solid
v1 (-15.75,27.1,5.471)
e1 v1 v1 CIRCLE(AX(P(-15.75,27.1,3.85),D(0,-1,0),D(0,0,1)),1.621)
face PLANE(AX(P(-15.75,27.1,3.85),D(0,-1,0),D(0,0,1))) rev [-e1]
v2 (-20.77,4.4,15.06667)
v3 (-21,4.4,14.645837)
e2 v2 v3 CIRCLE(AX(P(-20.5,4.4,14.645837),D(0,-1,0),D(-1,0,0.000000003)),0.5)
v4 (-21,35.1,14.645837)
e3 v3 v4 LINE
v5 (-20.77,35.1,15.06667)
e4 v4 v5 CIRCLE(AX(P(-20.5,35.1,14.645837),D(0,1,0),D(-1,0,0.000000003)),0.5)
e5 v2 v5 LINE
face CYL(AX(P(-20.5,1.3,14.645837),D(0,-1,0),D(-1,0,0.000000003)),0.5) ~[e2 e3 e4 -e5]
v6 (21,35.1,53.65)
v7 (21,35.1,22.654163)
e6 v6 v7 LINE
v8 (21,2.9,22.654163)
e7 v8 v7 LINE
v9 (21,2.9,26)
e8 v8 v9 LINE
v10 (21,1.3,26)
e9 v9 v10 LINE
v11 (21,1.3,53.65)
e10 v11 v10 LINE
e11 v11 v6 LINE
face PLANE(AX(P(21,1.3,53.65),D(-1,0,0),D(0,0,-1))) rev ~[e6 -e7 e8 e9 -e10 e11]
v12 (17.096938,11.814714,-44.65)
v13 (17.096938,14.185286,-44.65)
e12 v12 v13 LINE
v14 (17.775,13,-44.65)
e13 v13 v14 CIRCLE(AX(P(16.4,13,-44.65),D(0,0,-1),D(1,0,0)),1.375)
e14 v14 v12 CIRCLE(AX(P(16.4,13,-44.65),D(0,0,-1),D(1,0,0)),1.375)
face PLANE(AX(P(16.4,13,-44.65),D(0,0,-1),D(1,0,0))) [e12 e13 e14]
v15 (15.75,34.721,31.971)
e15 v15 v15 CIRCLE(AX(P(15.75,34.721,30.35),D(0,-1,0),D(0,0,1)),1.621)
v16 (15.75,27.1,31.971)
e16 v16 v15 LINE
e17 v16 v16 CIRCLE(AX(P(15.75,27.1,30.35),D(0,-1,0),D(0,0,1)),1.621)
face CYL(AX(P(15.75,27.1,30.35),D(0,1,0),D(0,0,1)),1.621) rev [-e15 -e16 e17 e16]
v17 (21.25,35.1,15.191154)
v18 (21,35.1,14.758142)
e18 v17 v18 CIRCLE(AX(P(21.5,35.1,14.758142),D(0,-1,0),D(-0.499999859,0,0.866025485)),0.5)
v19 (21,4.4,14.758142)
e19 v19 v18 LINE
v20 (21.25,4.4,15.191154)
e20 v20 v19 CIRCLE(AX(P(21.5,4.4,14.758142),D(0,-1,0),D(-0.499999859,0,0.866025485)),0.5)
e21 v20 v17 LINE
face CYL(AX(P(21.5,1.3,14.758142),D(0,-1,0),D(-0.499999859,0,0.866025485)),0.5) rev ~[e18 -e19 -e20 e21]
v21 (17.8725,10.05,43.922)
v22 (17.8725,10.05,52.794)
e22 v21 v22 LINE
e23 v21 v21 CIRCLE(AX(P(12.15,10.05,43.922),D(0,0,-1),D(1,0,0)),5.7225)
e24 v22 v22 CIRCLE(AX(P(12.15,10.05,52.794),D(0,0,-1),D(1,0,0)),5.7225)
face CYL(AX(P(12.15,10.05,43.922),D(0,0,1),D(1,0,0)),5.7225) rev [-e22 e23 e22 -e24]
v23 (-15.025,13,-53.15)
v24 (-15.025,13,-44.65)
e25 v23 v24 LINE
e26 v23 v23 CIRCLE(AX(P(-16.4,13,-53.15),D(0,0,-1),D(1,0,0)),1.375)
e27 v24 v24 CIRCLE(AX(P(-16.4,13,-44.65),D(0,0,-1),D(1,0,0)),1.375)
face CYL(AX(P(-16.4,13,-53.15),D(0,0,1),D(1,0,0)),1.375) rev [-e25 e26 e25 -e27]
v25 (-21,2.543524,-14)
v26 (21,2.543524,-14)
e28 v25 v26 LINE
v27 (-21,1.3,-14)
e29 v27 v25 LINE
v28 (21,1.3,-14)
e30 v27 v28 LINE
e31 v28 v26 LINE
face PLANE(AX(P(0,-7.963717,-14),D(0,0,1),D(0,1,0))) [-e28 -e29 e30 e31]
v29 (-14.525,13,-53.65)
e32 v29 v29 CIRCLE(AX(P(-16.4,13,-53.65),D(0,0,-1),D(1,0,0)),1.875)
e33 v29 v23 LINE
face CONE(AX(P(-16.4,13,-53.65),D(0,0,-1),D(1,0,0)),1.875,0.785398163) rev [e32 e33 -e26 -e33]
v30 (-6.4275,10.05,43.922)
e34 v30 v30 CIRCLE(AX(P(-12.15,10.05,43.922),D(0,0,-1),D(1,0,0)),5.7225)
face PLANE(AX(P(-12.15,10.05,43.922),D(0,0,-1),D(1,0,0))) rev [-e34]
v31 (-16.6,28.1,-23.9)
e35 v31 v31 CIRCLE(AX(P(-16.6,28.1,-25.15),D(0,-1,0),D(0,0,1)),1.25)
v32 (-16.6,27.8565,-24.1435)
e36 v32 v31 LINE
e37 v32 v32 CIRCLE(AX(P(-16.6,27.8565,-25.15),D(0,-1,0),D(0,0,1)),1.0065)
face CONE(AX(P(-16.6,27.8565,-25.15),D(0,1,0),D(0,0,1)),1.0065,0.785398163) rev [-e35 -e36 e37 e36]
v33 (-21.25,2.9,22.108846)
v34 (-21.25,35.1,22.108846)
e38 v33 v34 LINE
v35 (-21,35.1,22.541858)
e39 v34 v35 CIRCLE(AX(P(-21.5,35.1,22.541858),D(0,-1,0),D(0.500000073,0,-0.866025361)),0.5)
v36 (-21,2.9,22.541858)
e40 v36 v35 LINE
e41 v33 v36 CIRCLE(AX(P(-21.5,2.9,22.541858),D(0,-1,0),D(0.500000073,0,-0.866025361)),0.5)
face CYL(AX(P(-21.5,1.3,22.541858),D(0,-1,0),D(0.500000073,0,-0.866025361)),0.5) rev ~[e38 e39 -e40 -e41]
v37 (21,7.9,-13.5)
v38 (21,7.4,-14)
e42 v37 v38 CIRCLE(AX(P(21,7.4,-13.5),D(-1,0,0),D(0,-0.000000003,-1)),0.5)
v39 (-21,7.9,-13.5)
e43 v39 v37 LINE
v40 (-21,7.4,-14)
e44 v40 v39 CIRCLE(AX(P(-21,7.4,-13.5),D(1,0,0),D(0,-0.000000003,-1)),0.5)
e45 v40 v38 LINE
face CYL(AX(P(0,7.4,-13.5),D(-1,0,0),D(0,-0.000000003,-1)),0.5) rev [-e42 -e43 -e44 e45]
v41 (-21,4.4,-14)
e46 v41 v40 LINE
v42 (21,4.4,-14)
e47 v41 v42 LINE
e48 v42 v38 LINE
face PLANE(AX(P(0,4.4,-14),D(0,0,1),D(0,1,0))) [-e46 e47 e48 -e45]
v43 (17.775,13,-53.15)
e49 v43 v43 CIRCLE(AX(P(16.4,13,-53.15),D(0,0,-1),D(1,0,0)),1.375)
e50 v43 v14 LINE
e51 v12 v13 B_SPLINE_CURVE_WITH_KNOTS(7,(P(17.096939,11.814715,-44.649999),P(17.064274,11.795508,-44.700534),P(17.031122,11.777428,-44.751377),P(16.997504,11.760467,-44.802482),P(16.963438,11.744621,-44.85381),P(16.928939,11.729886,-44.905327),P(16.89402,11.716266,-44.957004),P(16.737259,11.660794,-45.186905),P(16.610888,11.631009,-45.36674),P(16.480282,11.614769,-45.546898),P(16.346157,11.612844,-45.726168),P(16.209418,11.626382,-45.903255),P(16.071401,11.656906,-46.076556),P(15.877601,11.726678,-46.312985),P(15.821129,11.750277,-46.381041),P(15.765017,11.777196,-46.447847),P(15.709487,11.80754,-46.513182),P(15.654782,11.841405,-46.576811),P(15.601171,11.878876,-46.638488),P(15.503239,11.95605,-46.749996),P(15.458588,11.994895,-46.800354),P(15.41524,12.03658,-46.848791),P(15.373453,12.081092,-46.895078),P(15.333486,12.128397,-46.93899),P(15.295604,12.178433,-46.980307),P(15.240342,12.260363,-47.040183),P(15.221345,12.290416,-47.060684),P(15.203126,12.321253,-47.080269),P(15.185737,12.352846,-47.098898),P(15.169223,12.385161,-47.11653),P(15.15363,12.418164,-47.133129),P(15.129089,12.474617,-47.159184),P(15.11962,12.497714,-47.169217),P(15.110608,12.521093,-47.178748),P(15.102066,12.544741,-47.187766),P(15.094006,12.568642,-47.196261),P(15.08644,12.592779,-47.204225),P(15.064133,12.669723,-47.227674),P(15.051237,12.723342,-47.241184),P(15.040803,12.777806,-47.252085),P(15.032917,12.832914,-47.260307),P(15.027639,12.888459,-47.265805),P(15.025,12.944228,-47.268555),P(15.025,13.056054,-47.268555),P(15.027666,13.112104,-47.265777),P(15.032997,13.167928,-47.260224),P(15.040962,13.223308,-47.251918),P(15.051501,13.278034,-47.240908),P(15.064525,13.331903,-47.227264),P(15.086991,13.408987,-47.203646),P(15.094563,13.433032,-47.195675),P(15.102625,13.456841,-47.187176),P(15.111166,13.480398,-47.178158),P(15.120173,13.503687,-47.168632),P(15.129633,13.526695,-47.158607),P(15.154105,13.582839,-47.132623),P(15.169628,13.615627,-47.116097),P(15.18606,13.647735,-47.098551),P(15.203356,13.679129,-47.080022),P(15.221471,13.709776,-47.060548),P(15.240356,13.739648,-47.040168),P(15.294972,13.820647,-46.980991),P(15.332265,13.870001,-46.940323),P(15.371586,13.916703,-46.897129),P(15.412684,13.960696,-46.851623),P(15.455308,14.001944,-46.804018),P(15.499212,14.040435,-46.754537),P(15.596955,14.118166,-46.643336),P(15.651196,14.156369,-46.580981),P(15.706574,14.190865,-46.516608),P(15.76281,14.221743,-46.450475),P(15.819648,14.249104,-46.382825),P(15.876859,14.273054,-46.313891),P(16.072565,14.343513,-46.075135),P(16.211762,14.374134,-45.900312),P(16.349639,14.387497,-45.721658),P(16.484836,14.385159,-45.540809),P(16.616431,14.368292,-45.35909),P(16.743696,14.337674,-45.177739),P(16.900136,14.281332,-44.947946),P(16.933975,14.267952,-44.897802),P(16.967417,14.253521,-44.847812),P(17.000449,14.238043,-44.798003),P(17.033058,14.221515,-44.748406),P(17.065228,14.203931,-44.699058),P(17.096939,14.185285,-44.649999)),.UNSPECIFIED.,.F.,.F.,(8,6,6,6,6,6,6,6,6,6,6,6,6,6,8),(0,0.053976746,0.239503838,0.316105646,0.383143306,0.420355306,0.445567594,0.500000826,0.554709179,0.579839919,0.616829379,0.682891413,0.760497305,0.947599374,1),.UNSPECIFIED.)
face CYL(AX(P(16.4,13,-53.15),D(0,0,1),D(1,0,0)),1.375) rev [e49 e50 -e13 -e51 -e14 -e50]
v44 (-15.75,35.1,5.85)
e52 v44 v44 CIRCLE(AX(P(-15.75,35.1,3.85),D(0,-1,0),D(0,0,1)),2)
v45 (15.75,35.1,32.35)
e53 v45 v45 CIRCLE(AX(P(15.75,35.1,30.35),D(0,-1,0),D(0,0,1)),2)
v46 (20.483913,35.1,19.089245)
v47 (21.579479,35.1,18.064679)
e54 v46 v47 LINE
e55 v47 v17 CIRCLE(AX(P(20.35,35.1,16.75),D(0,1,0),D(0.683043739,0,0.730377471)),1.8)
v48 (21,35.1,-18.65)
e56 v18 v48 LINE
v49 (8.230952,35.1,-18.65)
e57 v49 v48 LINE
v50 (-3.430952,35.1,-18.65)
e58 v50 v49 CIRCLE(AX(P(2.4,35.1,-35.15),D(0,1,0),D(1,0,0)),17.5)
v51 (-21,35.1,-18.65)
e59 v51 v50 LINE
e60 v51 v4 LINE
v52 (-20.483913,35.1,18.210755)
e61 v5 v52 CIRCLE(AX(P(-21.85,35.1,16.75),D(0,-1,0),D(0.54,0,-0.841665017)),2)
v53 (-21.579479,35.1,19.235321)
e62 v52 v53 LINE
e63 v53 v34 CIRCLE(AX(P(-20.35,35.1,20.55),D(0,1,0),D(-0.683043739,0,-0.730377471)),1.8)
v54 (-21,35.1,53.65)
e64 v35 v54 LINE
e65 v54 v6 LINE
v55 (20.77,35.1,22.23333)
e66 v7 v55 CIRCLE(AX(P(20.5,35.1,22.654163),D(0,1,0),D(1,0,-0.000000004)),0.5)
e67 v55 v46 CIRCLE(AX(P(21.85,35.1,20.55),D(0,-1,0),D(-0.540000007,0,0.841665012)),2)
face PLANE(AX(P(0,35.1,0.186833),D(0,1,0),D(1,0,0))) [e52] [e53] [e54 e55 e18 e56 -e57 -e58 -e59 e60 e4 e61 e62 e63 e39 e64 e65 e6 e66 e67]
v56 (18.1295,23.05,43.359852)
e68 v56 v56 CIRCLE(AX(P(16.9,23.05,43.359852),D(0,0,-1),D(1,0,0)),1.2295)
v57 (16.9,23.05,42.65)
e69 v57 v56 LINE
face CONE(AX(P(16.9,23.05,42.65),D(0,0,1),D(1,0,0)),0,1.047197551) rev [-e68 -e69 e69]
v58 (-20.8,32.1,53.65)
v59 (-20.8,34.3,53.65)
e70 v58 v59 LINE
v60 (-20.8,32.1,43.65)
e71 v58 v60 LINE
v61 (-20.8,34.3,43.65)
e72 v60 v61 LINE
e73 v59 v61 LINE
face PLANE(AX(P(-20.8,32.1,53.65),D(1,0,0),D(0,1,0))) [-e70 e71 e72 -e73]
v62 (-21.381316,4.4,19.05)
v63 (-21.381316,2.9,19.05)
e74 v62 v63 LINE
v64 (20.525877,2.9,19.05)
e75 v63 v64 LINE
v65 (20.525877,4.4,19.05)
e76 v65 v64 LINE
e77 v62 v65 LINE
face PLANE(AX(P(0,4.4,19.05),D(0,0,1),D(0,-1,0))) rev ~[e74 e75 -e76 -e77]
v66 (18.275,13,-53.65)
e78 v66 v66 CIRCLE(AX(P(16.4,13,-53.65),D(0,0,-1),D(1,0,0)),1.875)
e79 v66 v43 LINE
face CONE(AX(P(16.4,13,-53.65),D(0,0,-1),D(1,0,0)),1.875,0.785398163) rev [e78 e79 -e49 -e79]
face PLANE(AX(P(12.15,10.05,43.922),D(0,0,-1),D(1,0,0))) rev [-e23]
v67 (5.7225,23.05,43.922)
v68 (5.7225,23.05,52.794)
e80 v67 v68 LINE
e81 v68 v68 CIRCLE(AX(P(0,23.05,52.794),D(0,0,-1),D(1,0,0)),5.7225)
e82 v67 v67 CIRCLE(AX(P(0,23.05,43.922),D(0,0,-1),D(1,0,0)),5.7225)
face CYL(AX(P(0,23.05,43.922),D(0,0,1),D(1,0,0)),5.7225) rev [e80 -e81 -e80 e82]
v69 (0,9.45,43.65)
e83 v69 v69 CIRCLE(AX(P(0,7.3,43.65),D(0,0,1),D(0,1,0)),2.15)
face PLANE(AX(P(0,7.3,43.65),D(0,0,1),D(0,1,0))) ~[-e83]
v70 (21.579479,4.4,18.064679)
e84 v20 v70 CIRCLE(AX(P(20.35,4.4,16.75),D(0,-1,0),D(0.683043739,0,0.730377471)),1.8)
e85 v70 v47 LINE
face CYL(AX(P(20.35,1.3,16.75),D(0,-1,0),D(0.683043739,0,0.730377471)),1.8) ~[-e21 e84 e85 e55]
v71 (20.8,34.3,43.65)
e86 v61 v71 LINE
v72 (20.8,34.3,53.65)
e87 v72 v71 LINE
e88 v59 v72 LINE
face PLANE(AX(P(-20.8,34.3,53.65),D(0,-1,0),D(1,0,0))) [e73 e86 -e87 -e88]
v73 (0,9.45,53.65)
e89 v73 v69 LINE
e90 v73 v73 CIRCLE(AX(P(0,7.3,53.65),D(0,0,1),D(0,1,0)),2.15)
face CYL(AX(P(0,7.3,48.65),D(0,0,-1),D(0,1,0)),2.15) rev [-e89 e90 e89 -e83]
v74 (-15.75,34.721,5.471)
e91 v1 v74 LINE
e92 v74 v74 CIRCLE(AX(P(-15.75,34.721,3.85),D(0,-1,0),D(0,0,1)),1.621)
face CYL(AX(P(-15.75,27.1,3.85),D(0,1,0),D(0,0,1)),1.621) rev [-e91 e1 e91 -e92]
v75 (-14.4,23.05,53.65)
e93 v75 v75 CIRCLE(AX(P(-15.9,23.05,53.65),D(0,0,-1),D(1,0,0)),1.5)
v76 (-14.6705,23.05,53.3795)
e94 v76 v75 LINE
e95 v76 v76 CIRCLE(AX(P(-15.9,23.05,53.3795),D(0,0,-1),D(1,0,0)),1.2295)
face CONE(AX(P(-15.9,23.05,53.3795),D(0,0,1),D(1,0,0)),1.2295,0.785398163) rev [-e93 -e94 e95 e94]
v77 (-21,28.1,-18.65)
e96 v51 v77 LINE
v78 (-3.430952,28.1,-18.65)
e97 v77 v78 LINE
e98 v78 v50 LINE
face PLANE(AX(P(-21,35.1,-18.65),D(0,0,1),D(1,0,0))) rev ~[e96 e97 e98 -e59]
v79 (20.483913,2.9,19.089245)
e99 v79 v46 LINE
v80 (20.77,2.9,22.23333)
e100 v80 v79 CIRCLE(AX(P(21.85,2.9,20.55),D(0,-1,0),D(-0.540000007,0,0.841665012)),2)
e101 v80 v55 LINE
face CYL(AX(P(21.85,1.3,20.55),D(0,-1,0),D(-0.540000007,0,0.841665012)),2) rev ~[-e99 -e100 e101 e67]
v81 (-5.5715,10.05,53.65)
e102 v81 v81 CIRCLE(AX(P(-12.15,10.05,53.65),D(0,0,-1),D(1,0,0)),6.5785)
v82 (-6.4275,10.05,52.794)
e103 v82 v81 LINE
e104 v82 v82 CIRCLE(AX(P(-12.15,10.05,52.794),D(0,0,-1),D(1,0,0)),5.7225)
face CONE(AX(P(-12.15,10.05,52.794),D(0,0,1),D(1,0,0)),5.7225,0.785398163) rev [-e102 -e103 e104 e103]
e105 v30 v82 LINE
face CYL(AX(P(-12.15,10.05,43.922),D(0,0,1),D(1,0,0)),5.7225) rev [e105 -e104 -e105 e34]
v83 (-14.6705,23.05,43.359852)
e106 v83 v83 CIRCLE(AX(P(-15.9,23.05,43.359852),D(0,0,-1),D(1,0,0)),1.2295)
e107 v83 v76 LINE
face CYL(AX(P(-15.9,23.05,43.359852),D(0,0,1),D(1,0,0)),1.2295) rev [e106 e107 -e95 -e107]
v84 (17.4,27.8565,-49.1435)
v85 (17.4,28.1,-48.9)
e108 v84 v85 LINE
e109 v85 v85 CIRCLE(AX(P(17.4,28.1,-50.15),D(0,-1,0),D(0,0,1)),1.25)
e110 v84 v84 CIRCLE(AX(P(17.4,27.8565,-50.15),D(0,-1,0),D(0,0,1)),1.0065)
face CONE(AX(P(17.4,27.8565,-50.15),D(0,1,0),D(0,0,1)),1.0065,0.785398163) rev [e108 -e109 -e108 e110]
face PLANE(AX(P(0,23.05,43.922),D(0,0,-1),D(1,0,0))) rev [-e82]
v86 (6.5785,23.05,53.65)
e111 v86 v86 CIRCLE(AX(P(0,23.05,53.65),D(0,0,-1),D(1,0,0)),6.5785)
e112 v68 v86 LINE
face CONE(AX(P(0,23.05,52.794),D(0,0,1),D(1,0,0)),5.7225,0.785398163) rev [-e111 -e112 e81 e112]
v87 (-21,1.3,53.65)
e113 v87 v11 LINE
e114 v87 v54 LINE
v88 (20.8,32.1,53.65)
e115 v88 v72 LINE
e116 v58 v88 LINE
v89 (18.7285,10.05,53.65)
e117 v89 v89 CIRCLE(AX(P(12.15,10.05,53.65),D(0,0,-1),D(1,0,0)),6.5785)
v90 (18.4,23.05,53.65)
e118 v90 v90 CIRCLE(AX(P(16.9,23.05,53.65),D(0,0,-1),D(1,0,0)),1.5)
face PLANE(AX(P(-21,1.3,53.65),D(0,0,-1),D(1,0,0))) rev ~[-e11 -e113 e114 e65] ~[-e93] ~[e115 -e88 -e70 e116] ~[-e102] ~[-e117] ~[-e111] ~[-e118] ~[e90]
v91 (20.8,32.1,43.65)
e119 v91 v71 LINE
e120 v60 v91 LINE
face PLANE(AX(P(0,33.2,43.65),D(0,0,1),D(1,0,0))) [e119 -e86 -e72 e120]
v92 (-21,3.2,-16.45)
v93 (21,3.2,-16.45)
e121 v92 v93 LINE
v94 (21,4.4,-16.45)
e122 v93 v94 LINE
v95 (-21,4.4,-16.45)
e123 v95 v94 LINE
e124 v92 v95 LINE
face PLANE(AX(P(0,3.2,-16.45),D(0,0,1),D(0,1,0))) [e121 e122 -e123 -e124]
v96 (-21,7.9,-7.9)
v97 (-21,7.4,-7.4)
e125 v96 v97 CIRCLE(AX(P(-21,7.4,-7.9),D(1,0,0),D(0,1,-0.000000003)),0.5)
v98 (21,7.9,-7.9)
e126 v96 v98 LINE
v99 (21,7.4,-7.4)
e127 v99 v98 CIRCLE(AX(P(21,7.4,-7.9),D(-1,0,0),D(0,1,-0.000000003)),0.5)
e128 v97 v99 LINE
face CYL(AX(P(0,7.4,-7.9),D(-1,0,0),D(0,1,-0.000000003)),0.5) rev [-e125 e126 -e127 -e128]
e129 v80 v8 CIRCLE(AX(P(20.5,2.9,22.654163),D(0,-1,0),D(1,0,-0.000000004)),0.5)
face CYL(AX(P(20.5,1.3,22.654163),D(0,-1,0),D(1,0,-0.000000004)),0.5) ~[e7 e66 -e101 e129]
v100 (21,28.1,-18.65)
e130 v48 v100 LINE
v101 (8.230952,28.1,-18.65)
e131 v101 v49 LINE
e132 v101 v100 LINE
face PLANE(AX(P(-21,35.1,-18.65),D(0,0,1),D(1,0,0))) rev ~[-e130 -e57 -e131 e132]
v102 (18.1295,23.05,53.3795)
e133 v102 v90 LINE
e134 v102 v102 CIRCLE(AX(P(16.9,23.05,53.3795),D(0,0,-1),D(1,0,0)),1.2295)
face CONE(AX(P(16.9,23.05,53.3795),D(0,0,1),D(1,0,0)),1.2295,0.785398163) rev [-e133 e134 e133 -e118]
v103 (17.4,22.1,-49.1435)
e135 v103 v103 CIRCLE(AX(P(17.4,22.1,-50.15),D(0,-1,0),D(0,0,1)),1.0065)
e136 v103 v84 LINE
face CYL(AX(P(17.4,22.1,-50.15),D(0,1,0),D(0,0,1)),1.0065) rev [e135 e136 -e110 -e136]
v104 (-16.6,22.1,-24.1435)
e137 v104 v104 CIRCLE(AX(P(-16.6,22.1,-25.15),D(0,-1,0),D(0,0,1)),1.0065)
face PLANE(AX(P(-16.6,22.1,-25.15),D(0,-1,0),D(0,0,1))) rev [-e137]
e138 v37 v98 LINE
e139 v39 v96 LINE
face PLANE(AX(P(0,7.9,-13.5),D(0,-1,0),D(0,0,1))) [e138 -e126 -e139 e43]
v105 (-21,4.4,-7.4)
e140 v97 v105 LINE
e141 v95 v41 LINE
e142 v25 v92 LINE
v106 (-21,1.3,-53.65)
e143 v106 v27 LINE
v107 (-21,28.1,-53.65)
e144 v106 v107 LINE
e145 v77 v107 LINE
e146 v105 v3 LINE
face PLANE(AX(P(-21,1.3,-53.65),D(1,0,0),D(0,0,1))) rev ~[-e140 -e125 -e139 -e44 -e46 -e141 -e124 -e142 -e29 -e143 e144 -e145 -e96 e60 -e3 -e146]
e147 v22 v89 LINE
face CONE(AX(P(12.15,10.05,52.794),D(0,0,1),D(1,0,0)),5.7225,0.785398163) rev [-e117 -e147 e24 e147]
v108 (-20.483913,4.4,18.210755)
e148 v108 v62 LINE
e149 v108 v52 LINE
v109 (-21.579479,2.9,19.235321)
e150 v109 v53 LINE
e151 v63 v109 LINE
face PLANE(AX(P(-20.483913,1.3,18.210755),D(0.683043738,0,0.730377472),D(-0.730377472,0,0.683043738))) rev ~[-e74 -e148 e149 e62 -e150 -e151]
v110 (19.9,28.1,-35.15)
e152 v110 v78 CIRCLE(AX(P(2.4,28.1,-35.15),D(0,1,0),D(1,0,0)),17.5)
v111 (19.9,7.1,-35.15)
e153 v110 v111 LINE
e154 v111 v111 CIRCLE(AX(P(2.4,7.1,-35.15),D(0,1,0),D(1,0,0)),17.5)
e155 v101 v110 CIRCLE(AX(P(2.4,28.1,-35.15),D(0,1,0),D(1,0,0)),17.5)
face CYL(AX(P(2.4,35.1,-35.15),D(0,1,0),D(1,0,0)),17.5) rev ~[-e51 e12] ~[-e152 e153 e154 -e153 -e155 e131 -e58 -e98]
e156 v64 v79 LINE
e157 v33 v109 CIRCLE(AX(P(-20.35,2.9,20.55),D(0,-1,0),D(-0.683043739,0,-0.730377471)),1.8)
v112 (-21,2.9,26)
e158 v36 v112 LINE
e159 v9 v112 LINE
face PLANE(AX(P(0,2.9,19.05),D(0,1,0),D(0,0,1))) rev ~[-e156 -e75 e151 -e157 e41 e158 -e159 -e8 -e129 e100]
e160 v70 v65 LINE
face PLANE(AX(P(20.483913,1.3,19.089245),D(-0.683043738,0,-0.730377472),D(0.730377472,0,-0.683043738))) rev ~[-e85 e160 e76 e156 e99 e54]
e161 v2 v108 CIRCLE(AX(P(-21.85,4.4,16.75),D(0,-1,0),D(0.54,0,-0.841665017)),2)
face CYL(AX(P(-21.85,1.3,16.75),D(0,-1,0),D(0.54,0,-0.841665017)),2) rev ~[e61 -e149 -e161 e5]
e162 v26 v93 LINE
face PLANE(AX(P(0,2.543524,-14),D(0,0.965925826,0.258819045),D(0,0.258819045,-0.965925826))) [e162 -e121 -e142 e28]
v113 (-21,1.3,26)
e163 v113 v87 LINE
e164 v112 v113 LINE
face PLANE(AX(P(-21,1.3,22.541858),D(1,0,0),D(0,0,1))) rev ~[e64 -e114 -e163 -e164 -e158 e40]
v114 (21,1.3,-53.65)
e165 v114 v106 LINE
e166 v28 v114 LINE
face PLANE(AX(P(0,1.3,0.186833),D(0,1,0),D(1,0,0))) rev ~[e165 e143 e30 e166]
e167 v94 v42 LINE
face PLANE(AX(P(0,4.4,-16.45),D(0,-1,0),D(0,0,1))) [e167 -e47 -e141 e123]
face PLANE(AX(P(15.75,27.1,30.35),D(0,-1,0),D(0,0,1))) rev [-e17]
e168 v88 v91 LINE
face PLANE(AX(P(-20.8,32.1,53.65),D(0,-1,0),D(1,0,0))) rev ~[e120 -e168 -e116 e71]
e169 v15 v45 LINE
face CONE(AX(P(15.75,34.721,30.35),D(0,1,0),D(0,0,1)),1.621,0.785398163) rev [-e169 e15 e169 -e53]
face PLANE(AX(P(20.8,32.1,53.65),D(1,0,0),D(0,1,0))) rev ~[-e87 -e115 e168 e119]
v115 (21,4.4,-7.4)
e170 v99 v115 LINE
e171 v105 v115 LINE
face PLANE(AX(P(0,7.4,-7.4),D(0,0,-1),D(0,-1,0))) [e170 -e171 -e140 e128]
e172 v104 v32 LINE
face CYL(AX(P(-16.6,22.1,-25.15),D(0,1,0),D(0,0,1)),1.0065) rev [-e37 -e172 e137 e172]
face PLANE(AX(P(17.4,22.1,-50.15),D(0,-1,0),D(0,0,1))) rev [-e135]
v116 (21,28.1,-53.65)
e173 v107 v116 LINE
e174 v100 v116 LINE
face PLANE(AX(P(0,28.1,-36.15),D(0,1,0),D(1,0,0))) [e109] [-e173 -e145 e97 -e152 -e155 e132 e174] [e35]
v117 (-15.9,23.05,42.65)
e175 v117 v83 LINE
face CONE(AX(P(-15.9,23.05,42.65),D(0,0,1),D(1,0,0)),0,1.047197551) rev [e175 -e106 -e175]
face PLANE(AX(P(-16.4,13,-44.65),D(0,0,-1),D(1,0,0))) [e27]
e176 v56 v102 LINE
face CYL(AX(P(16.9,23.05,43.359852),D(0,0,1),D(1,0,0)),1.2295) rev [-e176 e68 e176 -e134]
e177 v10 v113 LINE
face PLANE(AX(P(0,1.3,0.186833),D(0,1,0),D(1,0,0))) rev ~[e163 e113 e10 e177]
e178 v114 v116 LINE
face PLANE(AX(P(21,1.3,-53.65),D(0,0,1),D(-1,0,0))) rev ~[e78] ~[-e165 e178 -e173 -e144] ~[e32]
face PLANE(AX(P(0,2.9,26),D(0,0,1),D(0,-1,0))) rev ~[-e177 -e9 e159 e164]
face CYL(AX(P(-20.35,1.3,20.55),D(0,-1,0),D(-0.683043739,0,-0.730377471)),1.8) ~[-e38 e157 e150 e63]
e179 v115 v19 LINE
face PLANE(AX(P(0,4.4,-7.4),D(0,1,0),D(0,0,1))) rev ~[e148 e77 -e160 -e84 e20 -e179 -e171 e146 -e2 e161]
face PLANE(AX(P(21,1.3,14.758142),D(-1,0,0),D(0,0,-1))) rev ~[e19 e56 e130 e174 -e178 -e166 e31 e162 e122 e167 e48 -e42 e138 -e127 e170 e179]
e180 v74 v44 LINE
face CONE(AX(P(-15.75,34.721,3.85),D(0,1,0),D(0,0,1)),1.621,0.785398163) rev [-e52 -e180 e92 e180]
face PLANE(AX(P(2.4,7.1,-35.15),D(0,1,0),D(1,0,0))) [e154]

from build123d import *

# Parameters (mm, degrees)
BOSS_EXTRUDE1_DEPTH     = 33.8
CUT_EXTRUDE1_DEPTH      = 25
CUT_EXTRUDE1_DEPTH_BACK = 25
SKETCH3_W               = 42
SKETCH3_H               = 35
CUT_EXTRUDE2_DEPTH      = 7
SKETCH9_R               = 17.5
CUT_EXTRUDE3_DEPTH      = 28
SKETCH12_W              = 41.6
SKETCH12_H              = 2.2
CUT_EXTRUDE4_DEPTH      = 10
SKETCH13_W              = 10
SKETCH13_H              = 2.15


with BuildPart() as part:
    # Sketch1 → Boss-Extrude1 (new body)
    with BuildSketch(Plane(origin=(0, 1.3, 0), x_dir=(1, 0, 0), z_dir=(0, 1, 0))):
        with BuildLine():
            Line((-21, -22.541858429), (-21, -53.65))
            Line((-21, -53.65), (21, -53.65))
            Line((21, -53.65), (21, -22.654162541))
            ThreePointArc((21, -22.654162541), (20.938748215, -22.414370958), (20.769999986, -22.233330024))
            ThreePointArc((20.769999986, -22.233330024), (19.858228534, -20.731235829), (20.483912522, -19.089245057))
            Line((20.483912522, -19.089245057), (21.57947873, -18.064679449))
            ThreePointArc((21.57947873, -18.064679449), (22.138283161, -16.544955286), (21.250000071, -15.191154314))
            ThreePointArc((21.250000071, -15.191154314), (21.066987319, -15.008141607), (21, -14.758141571))
            Line((21, -14.758141571), (21, 53.65))
            Line((21, 53.65), (-21, 53.65))
            Line((-21, 53.65), (-21, -14.645837459))
            ThreePointArc((-21, -14.645837459), (-20.938748219, -14.885629035), (-20.77, -15.066669967))
            ThreePointArc((-20.77, -15.066669967), (-19.858228534, -16.568764162), (-20.483912522, -18.210754943))
            Line((-20.483912522, -18.210754943), (-21.57947873, -19.235320551))
            ThreePointArc((-21.57947873, -19.235320551), (-22.138283154, -20.755044775), (-21.249999964, -22.108845748))
            ThreePointArc((-21.249999964, -22.108845748), (-21.066987288, -22.291858447), (-21, -22.541858429))
        make_face()
    extrude(amount=BOSS_EXTRUDE1_DEPTH)

    # Sketch2 → Cut-Extrude1 (cut, two sides)
    with BuildSketch(Plane(origin=(0, 0, 0), x_dir=(0, 0, -1), z_dir=(1, 0, 0))) as cut_extrude1_sk:
        with BuildLine():
            Line((-26, 2.9), (-26, -8.174443219))
            Line((-26, -8.174443219), (14, -7.963716906))
            Line((14, -7.963716906), (14, 2.543524479))
            Line((14, 2.543524479), (16.45, 3.2))
            Line((16.45, 3.2), (16.45, 4.4))
            Line((16.45, 4.4), (14, 4.4))
            Line((14, 4.4), (14, 7.4))
            ThreePointArc((14, 7.4), (13.853553391, 7.753553391), (13.5, 7.9))
            Line((13.5, 7.9), (7.9, 7.9))
            ThreePointArc((7.9, 7.9), (7.546446609, 7.753553391), (7.4, 7.4))
            Line((7.4, 7.4), (7.4, 4.4))
            Line((7.4, 4.4), (-19.05, 4.4))
            Line((-19.05, 4.4), (-19.05, 2.9))
            Line((-19.05, 2.9), (-26, 2.9))
        make_face()
    extrude(amount=CUT_EXTRUDE1_DEPTH, mode=Mode.SUBTRACT)
    extrude(cut_extrude1_sk.sketch, amount=-CUT_EXTRUDE1_DEPTH_BACK, mode=Mode.SUBTRACT)

    # Sketch3 → Cut-Extrude2 (cut)
    with BuildSketch(Plane(origin=(0, 35.1, 0), x_dir=(1, 0, 0), z_dir=(0, 1, 0))):
        with Locations((0, 36.15)):
            Rectangle(SKETCH3_W, SKETCH3_H)
    extrude(amount=-CUT_EXTRUDE2_DEPTH, mode=Mode.SUBTRACT)

    # Sketch4 → Cut-Revolve1 (revolve, cut)
    with BuildSketch(Plane(origin=(0, 10.05, 0), x_dir=(1, 0, 0), z_dir=(0, 1, 0))):
        Polygon((-12.15, -43.922), (-6.4275, -43.922), (-6.4275, -52.794), (-5.5715, -53.65), (-12.15, -53.65), align=None)
    revolve(axis=Axis((-12.15, 10.05, 53.65), (0, 0, -1)), mode=Mode.SUBTRACT)

    # Sketch5 → Cut-Revolve2 (revolve, cut)
    with BuildSketch(Plane(origin=(0, 10.05, 0), x_dir=(1, 0, 0), z_dir=(0, 1, 0))):
        Polygon((12.15, -43.922), (17.8725, -43.922), (17.8725, -52.794), (18.7285, -53.65), (12.15, -53.65), align=None)
    revolve(axis=Axis((12.15, 10.05, 53.65), (0, 0, -1)), mode=Mode.SUBTRACT)

    # Sketch6 → Cut-Revolve3 (revolve, cut)
    with BuildSketch(Plane(origin=(0, 23.05, 0), x_dir=(1, 0, 0), z_dir=(0, 1, 0))):
        Polygon((0, -43.922), (5.7225, -43.922), (5.7225, -52.794), (6.5785, -53.65), (0, -53.65), align=None)
    revolve(axis=Axis((0, 23.05, 53.65), (0, 0, -1)), mode=Mode.SUBTRACT)

    # Sketch7 → Cut-Revolve4 (revolve, cut)
    with BuildSketch(Plane(origin=(-15.75, 0, 0), x_dir=(0, 0, -1), z_dir=(1, 0, 0))):
        Polygon((-3.85, 27.1), (-5.471, 27.1), (-5.471, 34.721), (-5.85, 35.1), (-3.85, 35.1), align=None)
    revolve(axis=Axis((-15.75, 35.1, 3.85), (0, -1, 0)), mode=Mode.SUBTRACT)

    # Sketch8 → Cut-Revolve5 (revolve, cut)
    with BuildSketch(Plane(origin=(15.75, 0, 0), x_dir=(0, 0, -1), z_dir=(1, 0, 0))):
        Polygon((-30.35, 27.1), (-31.971, 27.1), (-31.971, 34.721), (-32.35, 35.1), (-30.35, 35.1), align=None)
    revolve(axis=Axis((15.75, 35.1, 30.35), (0, -1, 0)), mode=Mode.SUBTRACT)

    # Sketch9 → Cut-Extrude3 (cut)
    with BuildSketch(Plane(origin=(0, 35.1, 0), x_dir=(1, 0, 0), z_dir=(0, 1, 0))):
        with Locations((2.4, 35.15)):
            Circle(SKETCH9_R)
    extrude(amount=-CUT_EXTRUDE3_DEPTH, mode=Mode.SUBTRACT)

    # Sketch10 → Cut-Revolve6 (revolve, cut)
    with BuildSketch(Plane(origin=(0, 23.05, 0), x_dir=(1, 0, 0), z_dir=(0, 1, 0))):
        Polygon((-15.9, -42.65), (-14.6705, -43.359852156), (-14.6705, -53.3795), (-14.4, -53.65), (-15.9, -53.65), align=None)
    revolve(axis=Axis((-15.9, 23.05, 53.65), (0, 0, -1)), mode=Mode.SUBTRACT)

    # Sketch11 → Cut-Revolve7 (revolve, cut)
    with BuildSketch(Plane(origin=(0, 23.05, 0), x_dir=(1, 0, 0), z_dir=(0, 1, 0))):
        Polygon((16.9, -42.65), (18.1295, -43.359852156), (18.1295, -53.3795), (18.4, -53.65), (16.9, -53.65), align=None)
    revolve(axis=Axis((16.9, 23.05, 53.65), (0, 0, -1)), mode=Mode.SUBTRACT)

    # Sketch12 → Cut-Extrude4 (cut)
    with BuildSketch(Plane.XY.offset(53.65)):
        with Locations((0, 33.2)):
            Rectangle(SKETCH12_W, SKETCH12_H)
    extrude(amount=-CUT_EXTRUDE4_DEPTH, mode=Mode.SUBTRACT)

    # Sketch13 → Cut-Revolve8 (revolve, cut)
    with BuildSketch(Plane(origin=(0, 0, 0), x_dir=(0, 0, -1), z_dir=(1, 0, 0))):
        with Locations((-48.65, 8.375)):
            Rectangle(SKETCH13_W, SKETCH13_H)
    revolve(axis=Axis((0, 7.3, 43.65), (0, 0, 1)), mode=Mode.SUBTRACT)

    # Sketch14 → Cut-Revolve9 (revolve, cut)
    with BuildSketch(Plane(origin=(17.4, 0, 0), x_dir=(0, 0, -1), z_dir=(1, 0, 0))):
        Polygon((50.15, 22.1), (49.1435, 22.1), (49.1435, 27.8565), (48.9, 28.1), (50.15, 28.1), align=None)
    revolve(axis=Axis((17.4, 28.1, -50.15), (0, -1, 0)), mode=Mode.SUBTRACT)

    # Sketch15 → Cut-Revolve10 (revolve, cut)
    with BuildSketch(Plane(origin=(-16.6, 0, 0), x_dir=(0, 0, -1), z_dir=(1, 0, 0))):
        Polygon((25.15, 22.1), (24.1435, 22.1), (24.1435, 27.8565), (23.9, 28.1), (25.15, 28.1), align=None)
    revolve(axis=Axis((-16.6, 28.1, -25.15), (0, -1, 0)), mode=Mode.SUBTRACT)

    # Sketch16 → Cut-Revolve11 (revolve, cut)
    with BuildSketch(Plane(origin=(0, 13, 0), x_dir=(1, 0, 0), z_dir=(0, 1, 0))):
        Polygon((-16.4, 53.65), (-14.525, 53.65), (-15.025, 53.15), (-15.025, 44.65), (-16.4, 44.65), align=None)
    revolve(axis=Axis((-16.4, 13, -44.65), (0, 0, -1)), mode=Mode.SUBTRACT)

    # Sketch17 → Cut-Revolve12 (revolve, cut)
    with BuildSketch(Plane(origin=(0, 13, 0), x_dir=(1, 0, 0), z_dir=(0, 1, 0))):
        Polygon((16.4, 53.65), (18.275, 53.65), (17.775, 53.15), (17.775, 44.65), (16.4, 44.65), align=None)
    revolve(axis=Axis((16.4, 13, -44.65), (0, 0, -1)), mode=Mode.SUBTRACT)


solid = part.part
